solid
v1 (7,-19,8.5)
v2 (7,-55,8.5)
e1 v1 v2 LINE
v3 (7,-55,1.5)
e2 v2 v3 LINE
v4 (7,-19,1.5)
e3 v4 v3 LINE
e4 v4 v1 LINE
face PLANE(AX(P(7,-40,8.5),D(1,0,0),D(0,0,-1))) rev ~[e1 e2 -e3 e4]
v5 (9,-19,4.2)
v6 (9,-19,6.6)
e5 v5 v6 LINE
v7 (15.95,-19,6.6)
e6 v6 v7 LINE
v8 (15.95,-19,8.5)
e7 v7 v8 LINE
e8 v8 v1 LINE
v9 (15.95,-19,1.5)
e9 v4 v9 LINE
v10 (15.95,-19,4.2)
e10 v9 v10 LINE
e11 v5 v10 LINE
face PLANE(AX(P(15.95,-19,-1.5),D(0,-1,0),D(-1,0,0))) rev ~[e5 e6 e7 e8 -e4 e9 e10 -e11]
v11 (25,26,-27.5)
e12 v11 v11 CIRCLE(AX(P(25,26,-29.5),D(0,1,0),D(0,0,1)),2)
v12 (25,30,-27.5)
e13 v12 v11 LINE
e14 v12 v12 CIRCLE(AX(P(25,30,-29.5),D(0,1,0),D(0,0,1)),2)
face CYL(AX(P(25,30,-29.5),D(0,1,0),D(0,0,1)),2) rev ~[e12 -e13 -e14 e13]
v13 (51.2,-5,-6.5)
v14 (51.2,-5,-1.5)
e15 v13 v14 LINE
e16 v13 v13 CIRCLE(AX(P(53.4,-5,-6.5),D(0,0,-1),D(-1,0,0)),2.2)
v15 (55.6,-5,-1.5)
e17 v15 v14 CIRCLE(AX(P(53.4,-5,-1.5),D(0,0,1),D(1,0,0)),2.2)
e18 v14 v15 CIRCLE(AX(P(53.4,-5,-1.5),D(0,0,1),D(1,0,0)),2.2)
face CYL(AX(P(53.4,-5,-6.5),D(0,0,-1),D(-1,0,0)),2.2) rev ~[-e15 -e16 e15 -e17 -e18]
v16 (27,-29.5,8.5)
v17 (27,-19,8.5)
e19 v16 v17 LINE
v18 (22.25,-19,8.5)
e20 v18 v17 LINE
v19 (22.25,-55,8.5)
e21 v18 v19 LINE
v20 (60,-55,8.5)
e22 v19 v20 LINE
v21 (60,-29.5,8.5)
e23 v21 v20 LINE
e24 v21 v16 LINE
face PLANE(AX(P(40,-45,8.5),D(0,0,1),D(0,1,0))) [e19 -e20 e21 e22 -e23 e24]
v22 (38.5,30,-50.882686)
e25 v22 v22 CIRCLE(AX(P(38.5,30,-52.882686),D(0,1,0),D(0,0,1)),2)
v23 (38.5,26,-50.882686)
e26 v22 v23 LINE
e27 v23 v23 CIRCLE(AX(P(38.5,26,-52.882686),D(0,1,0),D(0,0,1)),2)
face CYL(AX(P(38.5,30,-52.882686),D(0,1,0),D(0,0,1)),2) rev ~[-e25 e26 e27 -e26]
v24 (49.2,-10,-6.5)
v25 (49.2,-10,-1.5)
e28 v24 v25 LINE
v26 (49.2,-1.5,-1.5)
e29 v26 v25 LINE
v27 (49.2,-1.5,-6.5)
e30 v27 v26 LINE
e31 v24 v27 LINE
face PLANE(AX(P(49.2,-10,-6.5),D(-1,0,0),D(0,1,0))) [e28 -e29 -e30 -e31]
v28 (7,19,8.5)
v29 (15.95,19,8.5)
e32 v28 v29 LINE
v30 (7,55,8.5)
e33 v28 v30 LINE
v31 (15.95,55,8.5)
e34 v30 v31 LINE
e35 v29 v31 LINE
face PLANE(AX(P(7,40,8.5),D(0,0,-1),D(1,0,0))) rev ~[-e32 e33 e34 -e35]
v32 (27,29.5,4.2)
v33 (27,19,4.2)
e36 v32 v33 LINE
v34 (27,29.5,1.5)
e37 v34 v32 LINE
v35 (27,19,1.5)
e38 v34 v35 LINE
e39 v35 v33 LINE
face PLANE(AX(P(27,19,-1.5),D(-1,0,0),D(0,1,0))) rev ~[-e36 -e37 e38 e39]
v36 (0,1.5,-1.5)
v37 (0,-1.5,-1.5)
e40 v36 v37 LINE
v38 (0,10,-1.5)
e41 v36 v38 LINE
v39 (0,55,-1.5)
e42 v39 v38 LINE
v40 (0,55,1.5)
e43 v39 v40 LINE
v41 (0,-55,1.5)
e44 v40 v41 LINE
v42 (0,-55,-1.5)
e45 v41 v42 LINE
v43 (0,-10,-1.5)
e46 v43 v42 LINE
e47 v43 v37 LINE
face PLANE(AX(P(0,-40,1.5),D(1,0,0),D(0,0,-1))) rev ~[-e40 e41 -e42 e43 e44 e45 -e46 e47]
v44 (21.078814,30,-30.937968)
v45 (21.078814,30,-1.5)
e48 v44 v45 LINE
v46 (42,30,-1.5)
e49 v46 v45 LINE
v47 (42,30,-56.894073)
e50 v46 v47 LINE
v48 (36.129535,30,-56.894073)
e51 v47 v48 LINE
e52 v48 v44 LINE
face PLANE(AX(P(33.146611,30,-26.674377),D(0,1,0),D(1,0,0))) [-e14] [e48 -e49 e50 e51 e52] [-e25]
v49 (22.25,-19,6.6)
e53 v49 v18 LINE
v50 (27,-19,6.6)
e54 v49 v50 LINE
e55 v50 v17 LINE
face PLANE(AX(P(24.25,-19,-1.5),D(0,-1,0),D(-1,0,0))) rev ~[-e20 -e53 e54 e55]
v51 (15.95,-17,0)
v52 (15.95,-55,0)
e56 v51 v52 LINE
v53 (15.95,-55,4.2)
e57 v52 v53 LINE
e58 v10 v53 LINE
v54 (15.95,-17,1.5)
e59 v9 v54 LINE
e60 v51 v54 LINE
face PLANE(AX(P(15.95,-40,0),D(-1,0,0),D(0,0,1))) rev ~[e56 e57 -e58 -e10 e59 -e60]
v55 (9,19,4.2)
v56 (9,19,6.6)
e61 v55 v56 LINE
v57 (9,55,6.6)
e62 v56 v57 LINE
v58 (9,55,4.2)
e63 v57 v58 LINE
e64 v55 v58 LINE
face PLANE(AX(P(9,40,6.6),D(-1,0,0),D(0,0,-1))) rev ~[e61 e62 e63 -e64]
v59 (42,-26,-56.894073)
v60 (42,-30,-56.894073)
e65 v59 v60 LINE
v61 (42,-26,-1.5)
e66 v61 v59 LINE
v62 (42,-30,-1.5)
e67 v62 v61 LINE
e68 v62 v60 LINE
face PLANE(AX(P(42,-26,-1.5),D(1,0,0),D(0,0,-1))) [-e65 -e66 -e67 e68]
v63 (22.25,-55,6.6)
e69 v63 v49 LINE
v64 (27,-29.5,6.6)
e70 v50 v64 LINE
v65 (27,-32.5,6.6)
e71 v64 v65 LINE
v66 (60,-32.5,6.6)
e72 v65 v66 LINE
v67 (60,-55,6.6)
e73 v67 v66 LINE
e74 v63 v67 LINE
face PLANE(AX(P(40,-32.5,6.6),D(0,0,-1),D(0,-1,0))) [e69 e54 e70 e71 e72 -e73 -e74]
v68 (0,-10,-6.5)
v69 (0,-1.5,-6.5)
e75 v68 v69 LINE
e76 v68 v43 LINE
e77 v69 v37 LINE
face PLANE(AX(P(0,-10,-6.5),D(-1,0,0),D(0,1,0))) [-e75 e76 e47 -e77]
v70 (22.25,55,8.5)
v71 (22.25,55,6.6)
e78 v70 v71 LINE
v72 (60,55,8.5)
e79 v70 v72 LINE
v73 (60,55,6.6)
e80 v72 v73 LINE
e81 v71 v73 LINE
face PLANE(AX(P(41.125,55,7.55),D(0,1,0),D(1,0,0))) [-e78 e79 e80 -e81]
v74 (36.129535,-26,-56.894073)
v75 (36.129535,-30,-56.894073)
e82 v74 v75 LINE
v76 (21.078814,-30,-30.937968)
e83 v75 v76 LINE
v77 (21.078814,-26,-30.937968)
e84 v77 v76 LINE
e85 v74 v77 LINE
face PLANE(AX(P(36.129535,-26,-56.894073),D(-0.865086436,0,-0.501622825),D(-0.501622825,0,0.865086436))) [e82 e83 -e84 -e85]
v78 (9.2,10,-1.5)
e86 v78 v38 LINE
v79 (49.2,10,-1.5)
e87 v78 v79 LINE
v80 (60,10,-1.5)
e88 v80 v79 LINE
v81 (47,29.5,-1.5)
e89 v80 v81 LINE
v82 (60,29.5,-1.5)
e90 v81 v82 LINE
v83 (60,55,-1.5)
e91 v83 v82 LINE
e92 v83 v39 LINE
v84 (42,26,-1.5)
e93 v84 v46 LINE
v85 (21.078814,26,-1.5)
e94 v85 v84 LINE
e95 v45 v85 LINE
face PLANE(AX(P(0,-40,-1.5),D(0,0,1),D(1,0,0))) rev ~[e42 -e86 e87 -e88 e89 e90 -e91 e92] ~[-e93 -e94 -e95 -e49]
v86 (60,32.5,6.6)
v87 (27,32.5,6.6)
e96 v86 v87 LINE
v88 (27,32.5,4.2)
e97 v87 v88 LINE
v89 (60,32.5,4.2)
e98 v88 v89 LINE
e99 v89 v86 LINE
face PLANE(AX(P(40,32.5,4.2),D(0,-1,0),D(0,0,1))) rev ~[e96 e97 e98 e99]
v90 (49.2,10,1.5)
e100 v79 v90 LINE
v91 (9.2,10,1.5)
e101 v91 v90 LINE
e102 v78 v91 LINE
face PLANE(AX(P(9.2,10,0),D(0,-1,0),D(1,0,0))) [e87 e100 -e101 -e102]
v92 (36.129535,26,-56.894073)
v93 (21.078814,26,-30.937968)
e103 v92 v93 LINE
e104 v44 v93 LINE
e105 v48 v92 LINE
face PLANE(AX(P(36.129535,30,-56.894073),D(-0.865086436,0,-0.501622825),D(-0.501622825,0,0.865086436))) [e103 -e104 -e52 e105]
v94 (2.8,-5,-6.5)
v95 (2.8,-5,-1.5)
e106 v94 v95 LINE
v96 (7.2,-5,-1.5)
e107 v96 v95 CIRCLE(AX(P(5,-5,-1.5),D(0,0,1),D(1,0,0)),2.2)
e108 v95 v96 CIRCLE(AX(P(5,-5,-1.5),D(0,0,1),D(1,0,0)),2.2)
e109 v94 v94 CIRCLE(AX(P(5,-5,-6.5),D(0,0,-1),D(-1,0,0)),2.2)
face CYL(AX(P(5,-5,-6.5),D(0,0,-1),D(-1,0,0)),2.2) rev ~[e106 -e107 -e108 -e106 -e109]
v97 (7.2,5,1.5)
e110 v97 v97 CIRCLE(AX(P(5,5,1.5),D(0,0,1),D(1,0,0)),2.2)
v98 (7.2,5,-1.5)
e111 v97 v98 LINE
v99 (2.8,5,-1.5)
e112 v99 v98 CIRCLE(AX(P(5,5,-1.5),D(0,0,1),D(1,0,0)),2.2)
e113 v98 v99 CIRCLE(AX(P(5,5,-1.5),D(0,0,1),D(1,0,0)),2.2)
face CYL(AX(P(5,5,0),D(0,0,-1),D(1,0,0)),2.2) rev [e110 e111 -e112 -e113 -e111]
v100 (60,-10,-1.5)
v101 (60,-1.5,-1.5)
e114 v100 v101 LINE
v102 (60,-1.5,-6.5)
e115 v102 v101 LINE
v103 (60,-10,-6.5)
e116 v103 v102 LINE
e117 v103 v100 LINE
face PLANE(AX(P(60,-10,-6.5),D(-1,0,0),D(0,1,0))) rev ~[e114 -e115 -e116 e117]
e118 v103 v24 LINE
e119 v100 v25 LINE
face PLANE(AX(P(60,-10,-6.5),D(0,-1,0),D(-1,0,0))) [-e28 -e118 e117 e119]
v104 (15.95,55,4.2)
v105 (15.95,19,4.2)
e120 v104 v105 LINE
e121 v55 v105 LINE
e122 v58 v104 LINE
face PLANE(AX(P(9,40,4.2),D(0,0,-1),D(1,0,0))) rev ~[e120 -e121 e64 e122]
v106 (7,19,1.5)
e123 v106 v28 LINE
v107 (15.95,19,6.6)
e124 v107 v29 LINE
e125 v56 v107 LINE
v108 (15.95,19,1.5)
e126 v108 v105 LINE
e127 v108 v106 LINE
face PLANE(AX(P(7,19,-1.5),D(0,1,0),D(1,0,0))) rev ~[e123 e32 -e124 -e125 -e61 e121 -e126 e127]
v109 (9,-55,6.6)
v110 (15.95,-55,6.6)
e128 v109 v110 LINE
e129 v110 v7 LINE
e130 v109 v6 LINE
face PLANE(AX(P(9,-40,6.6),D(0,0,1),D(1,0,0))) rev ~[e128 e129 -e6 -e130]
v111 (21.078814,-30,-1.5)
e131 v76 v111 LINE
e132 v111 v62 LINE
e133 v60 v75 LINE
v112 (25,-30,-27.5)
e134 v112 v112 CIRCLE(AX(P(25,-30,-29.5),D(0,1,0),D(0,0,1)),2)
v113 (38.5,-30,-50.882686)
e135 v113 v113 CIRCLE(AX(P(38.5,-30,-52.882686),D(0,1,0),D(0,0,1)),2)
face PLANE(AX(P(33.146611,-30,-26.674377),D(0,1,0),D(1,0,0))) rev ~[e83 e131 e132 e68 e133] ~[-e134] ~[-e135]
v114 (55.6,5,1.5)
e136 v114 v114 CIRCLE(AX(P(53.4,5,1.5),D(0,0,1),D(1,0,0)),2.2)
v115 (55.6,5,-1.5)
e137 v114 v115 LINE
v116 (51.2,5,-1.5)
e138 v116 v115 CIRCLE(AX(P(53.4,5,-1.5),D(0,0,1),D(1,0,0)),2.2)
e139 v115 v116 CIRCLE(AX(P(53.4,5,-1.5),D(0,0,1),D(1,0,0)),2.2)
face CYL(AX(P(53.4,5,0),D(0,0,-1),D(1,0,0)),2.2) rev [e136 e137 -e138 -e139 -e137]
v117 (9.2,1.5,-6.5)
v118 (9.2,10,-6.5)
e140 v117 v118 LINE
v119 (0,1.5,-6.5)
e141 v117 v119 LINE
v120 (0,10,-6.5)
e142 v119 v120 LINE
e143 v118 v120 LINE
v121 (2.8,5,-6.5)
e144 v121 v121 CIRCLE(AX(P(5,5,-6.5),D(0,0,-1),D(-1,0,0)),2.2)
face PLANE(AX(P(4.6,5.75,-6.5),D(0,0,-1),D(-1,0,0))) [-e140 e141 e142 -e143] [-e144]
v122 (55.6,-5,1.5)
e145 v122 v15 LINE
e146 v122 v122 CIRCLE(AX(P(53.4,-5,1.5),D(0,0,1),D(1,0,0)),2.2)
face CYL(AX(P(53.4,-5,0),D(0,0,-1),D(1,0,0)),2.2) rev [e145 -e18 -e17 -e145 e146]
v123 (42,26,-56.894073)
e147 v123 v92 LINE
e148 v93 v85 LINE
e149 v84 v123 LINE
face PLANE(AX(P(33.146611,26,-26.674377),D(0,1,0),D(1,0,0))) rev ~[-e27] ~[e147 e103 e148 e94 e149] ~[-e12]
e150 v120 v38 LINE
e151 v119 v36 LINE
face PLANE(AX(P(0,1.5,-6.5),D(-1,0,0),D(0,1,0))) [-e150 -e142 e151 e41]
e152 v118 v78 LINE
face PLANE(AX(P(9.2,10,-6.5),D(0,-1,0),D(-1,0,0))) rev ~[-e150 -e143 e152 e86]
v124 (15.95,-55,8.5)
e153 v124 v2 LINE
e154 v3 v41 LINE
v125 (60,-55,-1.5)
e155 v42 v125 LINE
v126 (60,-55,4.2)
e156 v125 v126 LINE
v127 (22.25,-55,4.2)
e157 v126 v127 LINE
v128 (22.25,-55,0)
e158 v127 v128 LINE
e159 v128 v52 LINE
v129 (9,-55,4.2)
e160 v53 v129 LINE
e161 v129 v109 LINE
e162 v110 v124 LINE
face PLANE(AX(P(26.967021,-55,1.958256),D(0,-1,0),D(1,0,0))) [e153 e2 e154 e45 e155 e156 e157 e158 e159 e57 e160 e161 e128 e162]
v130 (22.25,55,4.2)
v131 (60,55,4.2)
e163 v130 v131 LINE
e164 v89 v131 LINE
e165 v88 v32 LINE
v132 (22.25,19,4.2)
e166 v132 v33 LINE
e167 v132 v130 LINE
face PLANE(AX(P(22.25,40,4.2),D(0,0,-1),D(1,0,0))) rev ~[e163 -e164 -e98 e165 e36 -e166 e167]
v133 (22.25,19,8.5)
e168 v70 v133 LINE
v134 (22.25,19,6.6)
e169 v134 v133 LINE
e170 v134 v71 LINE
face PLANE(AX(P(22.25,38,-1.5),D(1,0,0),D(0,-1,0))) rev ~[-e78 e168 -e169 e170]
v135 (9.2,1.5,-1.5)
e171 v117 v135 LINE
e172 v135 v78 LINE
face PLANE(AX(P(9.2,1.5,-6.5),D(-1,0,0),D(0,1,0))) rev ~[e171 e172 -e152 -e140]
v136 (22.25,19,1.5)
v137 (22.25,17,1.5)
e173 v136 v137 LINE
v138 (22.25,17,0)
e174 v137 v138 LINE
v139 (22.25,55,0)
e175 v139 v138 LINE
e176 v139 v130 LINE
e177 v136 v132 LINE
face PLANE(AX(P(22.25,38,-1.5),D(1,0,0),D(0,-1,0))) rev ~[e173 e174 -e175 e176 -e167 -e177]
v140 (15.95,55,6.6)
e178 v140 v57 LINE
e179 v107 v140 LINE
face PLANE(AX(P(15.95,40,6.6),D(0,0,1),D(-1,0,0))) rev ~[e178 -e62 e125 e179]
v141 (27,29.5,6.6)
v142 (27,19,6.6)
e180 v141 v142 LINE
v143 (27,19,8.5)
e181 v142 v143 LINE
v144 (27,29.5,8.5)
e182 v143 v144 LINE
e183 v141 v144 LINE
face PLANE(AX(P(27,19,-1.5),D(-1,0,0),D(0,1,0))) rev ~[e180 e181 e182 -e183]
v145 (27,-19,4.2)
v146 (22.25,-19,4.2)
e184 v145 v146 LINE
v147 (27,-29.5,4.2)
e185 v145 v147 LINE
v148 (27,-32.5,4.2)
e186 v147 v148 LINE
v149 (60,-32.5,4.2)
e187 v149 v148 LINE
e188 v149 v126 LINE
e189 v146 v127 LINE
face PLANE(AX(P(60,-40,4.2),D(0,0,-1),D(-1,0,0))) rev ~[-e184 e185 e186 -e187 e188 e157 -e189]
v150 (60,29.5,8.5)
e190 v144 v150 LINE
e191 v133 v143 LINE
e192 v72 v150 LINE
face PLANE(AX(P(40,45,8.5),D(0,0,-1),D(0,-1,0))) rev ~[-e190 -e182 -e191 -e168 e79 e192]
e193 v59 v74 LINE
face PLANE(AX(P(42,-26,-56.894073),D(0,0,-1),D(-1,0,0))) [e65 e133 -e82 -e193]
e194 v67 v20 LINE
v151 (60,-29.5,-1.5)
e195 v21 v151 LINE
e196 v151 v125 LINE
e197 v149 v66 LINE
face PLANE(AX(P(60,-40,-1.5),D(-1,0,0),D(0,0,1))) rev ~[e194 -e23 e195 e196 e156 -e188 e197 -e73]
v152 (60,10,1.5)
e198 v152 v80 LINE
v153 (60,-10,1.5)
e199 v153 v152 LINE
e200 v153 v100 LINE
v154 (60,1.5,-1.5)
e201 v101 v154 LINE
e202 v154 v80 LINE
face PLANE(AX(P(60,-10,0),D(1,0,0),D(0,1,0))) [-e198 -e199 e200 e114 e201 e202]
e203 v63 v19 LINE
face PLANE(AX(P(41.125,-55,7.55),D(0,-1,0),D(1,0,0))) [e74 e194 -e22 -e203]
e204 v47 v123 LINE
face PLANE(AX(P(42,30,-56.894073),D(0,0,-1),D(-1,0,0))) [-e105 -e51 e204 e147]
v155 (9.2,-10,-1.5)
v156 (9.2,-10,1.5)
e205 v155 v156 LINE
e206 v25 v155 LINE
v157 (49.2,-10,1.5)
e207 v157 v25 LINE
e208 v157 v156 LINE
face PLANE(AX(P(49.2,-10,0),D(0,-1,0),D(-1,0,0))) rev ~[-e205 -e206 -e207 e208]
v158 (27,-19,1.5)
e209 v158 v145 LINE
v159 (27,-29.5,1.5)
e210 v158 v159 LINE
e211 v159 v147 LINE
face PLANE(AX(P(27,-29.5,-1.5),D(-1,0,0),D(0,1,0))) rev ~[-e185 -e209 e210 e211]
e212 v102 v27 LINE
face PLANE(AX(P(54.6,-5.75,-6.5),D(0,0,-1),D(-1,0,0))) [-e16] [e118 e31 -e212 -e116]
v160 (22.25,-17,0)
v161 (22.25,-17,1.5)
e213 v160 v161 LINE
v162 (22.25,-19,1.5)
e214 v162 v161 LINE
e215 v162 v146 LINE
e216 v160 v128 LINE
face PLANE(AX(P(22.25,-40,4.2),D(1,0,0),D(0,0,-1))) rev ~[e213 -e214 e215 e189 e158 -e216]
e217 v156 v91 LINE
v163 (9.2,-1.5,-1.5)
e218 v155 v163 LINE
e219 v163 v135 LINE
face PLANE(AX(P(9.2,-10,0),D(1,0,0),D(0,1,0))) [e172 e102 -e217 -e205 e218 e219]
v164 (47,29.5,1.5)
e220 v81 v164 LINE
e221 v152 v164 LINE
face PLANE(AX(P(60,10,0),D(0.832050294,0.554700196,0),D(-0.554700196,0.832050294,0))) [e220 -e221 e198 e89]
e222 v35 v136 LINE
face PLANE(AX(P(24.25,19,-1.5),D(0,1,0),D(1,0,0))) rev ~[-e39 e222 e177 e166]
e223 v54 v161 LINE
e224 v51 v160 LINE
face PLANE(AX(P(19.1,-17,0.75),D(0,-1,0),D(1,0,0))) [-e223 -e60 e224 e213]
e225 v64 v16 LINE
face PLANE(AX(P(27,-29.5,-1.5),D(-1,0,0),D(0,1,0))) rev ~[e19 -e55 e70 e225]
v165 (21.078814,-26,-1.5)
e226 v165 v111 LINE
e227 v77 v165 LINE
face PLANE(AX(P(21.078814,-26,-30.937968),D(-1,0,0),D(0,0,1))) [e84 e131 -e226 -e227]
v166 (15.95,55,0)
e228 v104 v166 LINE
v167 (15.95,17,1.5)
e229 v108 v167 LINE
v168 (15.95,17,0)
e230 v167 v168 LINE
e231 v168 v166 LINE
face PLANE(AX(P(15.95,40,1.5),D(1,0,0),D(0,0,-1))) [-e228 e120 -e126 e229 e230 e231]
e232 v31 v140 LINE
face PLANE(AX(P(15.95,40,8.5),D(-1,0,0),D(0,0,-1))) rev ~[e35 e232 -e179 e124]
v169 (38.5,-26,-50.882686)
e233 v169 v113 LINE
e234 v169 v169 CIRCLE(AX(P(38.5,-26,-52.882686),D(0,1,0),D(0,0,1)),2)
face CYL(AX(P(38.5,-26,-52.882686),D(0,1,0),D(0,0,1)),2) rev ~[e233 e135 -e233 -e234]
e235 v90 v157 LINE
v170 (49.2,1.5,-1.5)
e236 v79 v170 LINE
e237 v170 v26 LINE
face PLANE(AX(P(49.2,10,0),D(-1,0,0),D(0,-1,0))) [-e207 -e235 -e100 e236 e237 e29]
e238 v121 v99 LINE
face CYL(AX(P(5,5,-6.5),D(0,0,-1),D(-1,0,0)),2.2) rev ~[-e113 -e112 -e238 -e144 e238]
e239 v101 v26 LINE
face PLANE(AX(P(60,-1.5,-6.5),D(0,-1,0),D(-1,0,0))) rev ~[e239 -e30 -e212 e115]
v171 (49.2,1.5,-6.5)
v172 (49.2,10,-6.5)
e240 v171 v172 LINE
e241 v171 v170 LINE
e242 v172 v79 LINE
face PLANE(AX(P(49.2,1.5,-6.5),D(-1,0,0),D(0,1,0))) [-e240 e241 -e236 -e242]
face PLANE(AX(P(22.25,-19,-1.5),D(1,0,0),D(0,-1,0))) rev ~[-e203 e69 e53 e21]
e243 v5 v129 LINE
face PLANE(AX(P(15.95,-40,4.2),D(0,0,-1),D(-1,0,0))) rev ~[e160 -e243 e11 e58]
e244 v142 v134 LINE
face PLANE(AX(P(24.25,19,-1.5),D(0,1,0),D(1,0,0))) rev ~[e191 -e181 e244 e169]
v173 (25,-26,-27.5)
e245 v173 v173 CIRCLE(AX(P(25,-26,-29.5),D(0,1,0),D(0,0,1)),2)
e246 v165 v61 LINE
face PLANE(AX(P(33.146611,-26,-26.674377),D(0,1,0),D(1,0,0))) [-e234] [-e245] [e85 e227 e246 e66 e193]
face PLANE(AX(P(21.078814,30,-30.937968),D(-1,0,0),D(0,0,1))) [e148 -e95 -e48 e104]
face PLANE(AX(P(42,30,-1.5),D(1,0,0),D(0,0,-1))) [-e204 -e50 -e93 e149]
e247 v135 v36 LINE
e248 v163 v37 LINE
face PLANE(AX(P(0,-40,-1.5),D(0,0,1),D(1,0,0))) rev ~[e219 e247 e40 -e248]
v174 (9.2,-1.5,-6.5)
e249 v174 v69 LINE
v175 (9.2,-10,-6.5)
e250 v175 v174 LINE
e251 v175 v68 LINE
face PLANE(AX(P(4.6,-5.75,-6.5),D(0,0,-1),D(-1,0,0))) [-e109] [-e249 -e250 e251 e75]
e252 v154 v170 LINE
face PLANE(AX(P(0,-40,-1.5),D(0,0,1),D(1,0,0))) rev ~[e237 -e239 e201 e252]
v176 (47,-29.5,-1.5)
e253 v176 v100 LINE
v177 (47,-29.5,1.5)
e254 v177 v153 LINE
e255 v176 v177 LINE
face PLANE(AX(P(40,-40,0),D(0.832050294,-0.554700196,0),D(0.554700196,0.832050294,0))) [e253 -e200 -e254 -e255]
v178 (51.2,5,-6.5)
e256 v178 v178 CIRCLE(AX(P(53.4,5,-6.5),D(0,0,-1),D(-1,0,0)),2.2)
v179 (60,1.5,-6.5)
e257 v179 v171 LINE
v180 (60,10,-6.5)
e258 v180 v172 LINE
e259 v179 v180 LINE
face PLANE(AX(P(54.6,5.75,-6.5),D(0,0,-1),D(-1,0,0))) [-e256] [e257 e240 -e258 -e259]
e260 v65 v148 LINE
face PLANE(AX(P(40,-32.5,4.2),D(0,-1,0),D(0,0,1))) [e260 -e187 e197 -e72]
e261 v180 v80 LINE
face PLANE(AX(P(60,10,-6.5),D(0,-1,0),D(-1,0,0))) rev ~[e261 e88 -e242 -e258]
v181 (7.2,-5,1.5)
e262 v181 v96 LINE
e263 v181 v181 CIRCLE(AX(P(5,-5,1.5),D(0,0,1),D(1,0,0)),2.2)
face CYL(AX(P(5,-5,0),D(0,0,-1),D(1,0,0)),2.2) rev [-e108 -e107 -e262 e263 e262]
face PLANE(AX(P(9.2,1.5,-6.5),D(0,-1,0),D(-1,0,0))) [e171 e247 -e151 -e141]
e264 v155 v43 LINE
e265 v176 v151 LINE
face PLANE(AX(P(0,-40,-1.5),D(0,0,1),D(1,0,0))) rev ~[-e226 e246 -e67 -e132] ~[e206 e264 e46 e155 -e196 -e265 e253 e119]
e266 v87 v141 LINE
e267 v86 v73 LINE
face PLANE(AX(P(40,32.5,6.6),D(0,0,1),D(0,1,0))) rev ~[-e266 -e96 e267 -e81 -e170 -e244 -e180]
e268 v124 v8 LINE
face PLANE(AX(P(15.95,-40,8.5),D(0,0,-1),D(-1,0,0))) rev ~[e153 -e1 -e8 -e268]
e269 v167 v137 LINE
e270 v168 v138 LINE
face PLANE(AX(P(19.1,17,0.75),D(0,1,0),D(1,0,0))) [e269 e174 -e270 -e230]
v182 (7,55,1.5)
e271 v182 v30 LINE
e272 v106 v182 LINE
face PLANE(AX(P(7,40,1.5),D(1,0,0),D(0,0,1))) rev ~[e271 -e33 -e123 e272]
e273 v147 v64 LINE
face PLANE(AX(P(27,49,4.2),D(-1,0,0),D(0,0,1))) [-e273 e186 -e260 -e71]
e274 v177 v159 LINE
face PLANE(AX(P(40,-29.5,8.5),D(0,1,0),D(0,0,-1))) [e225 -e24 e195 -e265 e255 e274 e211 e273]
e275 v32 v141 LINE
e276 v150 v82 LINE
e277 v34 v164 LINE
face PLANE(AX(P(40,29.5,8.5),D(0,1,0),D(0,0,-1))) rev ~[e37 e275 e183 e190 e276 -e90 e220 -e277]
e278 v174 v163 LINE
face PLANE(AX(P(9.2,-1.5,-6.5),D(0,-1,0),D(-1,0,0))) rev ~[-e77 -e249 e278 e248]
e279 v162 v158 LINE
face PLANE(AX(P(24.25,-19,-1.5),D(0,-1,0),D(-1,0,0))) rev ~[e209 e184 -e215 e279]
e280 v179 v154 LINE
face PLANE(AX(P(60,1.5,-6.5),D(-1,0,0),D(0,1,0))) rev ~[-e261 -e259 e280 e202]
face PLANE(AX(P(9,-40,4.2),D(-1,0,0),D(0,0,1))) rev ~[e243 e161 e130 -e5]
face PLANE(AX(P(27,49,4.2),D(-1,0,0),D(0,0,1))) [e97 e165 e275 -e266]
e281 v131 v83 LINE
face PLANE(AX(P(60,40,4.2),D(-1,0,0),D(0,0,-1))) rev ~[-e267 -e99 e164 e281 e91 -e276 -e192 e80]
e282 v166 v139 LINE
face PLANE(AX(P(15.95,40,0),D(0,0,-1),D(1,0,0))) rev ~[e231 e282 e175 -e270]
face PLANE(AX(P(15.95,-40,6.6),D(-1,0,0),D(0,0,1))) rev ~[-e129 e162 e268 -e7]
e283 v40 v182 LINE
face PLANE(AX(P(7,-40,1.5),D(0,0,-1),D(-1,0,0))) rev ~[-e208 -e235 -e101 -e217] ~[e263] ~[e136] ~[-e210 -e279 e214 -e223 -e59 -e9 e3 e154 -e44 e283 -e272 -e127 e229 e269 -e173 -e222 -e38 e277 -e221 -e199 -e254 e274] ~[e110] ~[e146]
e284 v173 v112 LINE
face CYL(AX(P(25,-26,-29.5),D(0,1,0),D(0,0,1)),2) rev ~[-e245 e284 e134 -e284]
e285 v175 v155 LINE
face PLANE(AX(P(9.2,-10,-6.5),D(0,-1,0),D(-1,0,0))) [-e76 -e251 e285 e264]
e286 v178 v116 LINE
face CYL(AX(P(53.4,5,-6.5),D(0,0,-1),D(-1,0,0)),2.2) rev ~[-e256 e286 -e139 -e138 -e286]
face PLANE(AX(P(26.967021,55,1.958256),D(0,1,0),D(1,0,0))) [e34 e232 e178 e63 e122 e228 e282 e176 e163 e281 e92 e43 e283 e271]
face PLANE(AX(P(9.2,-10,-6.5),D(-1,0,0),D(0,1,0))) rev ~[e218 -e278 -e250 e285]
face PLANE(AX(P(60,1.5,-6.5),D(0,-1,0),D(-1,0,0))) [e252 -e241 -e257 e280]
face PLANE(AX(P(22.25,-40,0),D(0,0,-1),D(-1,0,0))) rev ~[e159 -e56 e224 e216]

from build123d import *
from build123d.topology import SkipClean

# Parameters (mm, degrees)
SKETCH_1_R               = 2.2
EXTRUDE_1_DEPTH          = 1.5
EXTRUDE_START            = -1.5
EXTRUDE_2_DEPTH          = 10
SKETCH_2_W               = 6.3
SKETCH_2_H               = 7
CUT_EXTRUDE_1_DEPTH      = 80
CUT_EXTRUDE_START        = -2
SKETCH_3_W               = 2.4
SKETCH_3_H               = 19
CUT_EXTRUDE_2_DEPTH      = 80
EXTRUDE_3_DEPTH          = 10
SKETCH_4_W               = 17.75
SKETCH_4_H               = 2.4
CUT_EXTRUDE_3_DEPTH      = 12.5
CUT_EXTRUDE_START_2      = -90
SKETCH_4_2_W             = 17.75
SKETCH_4_2_H             = 2.4
CUT_EXTRUDE_4_DEPTH      = 12.5
EXTRUDE_START_2          = -15
SKETCH_6_R               = 2
EXTRUDE_4_DEPTH          = 4
EXTRUDE_START_3          = -71
SKETCH_6_2_R             = 2
EXTRUDE_5_DEPTH          = 4
CUT_EXTRUDE_START_3      = 60
SKETCH_7_W               = 6.95
SKETCH_7_H               = 2.4
CUT_EXTRUDE_5_DEPTH      = 90
SKETCH_9_W               = 6.3
SKETCH_9_H               = 1.5
CUT_EXTRUDE_7_DEPTH      = 23
SKETCH_10_W              = 6.3
SKETCH_10_H              = 1.5
CUT_EXTRUDE_8_DEPTH      = 23
CUT_EXTRUDE_9_DEPTH      = 70
CUT_EXTRUDE_9_DEPTH_BACK = 30
SKETCH_11_W              = 2.75
SKETCH_11_H              = 2.4
EXTRUDE_6_DEPTH          = 20
EXTRUDE_7_DEPTH          = 20
SKETCH_15_W              = 37.75
SKETCH_15_H              = 1.9
EXTRUDE_8_DEPTH          = 15
SKETCH_16_W              = 37.75
SKETCH_16_H              = 1.9
EXTRUDE_9_DEPTH          = 15
EXTRUDE_START_4          = 5
SKETCH_17_W              = 10.8
SKETCH_17_H              = 8.5
SKETCH_17_R              = 2.2
SKETCH_17_W_2            = 9.2
EXTRUDE_10_DEPTH         = 5


with BuildPart() as part:
    # 草图1 → 凸台-拉伸1 (new, symmetric)
    with BuildSketch(Plane.XY):
        Polygon((15.95, 38), (15.95, 19), (7, 19), (7, 40), (0, 40), (0, -40), (7, -40), (7, -19), (15.95, -19), (15.95, -38), (22.25, -38), (22.25, -19), (24.25, -19), (27, -19), (27, -29.5), (40, -29.5), (40, -40), (60, -10), (60, 10), (40, 40), (40, 29.5), (27, 29.5), (27, 19), (24.25, 19), (22.25, 19), (22.25, 38), align=None)
        with Locations((5, -5)):
            Circle(SKETCH_1_R, mode=Mode.SUBTRACT)
        with Locations((53.4, -5)):
            Circle(SKETCH_1_R, mode=Mode.SUBTRACT)
        with Locations((5, 5)):
            Circle(SKETCH_1_R, mode=Mode.SUBTRACT)
        Polygon((16, 10), (23, 10), (49.2, 10), (49.2, -10), (23, -10), (16, -10), (9.2, -10), (9.2, 10), align=None, mode=Mode.SUBTRACT)
        with Locations((53.4, 5)):
            Circle(SKETCH_1_R, mode=Mode.SUBTRACT)
    extrude(amount=EXTRUDE_1_DEPTH, both=True)

    # 草图1<3> → 凸台-拉伸2 (add)
    with BuildSketch(Plane.XY.offset(EXTRUDE_START)):
        Polygon((7, 19), (15.95, 19), (15.95, 38), (22.25, 38), (22.25, 19), (24.25, 19), (24.25, 40), (22.25, 40), (16.15, 40), (7, 40), align=None)
        Polygon((7, -19), (7, -40), (16.15, -40), (22.25, -40), (24.25, -40), (24.25, -19), (22.25, -19), (22.25, -38), (15.95, -38), (15.95, -19), align=None)
    extrude(amount=EXTRUDE_2_DEPTH)

    # 草图2 → 切除-拉伸1 (cut)
    with BuildSketch(Plane.XZ.offset(40)):
        with Locations((19.1, 5)):
            Rectangle(SKETCH_2_W, SKETCH_2_H)
    extrude(amount=-CUT_EXTRUDE_1_DEPTH, mode=Mode.SUBTRACT)

    # 草图3 → 切除-拉伸2 (cut)
    with BuildSketch(Plane.ZY.offset(-7).offset(CUT_EXTRUDE_START)):
        with Locations((5.4, -28.5)):
            Rectangle(SKETCH_3_W, SKETCH_3_H)
        with Locations((5.4, 28.5)):
            Rectangle(SKETCH_3_W, SKETCH_3_H)
    extrude(amount=-CUT_EXTRUDE_2_DEPTH, mode=Mode.SUBTRACT)

    # 草图1<4> → 凸台-拉伸3 (add)
    with BuildSketch(Plane.XY.offset(EXTRUDE_START)):
        Polygon((24.25, 45), (24.25, 19), (27, 19), (27, 29.5), (40, 29.5), (40, 45), align=None)
        Polygon((24.25, -19), (24.25, -45), (40, -45), (40, -29.5), (27, -29.5), (27, -19), align=None)
    extrude(amount=EXTRUDE_3_DEPTH)

    # 草图4 → 切除-拉伸3 (cut)
    with BuildSketch(Plane.XZ.offset(45)):
        with Locations((31.125, 5.4)):
            Rectangle(SKETCH_4_W, SKETCH_4_H)
    extrude(amount=-CUT_EXTRUDE_3_DEPTH, mode=Mode.SUBTRACT)

    # 草图4<2> → 切除-拉伸4 (cut)
    with BuildSketch(Plane.XZ.offset(45).offset(CUT_EXTRUDE_START_2)):
        with Locations((31.125, 5.4)):
            Rectangle(SKETCH_4_2_W, SKETCH_4_2_H)
    extrude(amount=CUT_EXTRUDE_4_DEPTH, mode=Mode.SUBTRACT)

    # 草图6 → 凸台-拉伸4 (add)
    with BuildSketch(Plane(origin=(0, 45, 0), x_dir=(1, 0, 0), z_dir=(0, 1, 0)).offset(EXTRUDE_START_2)):
        Polygon((21.0788144, 1.5), (42, 1.5), (42, 7.5), (42, 56.89407293), (36.129535456, 56.89407293), (21.0788144, 30.93796809), align=None)
        with Locations(Location((25, 29.5, 0), (0, 0, 270))):
            Circle(SKETCH_6_R, mode=Mode.SUBTRACT)
        with Locations(Location((38.5, 52.8826859, 0), (0, 0, 270))):
            Circle(SKETCH_6_R, mode=Mode.SUBTRACT)
    extrude(amount=-EXTRUDE_4_DEPTH)

    # 草图6<2> → 凸台-拉伸5 (add)
    with BuildSketch(Plane(origin=(0, 45, 0), x_dir=(1, 0, 0), z_dir=(0, 1, 0)).offset(EXTRUDE_START_3)):
        Polygon((21.0788144, 1.5), (42, 1.5), (42, 7.5), (42, 56.89407293), (36.129535456, 56.89407293), (21.0788144, 30.93796809), align=None)
        with Locations(Location((25, 29.5, 0), (0, 0, 270))):
            Circle(SKETCH_6_2_R, mode=Mode.SUBTRACT)
        with Locations(Location((38.5, 52.8826859, 0), (0, 0, 270))):
            Circle(SKETCH_6_2_R, mode=Mode.SUBTRACT)
    extrude(amount=-EXTRUDE_5_DEPTH)

    # 草图7 → 切除-拉伸5 (cut)
    with BuildSketch(Plane.XZ.offset(-19).offset(CUT_EXTRUDE_START_3)):
        with Locations((12.475, 5.4)):
            Rectangle(SKETCH_7_W, SKETCH_7_H)
    extrude(amount=-CUT_EXTRUDE_5_DEPTH, mode=Mode.SUBTRACT)

    # 草图9 → 切除-拉伸7 (cut)
    with BuildSketch(Plane(origin=(0, 40, 0), x_dir=(1, 0, 0), z_dir=(0, 1, 0))):
        with Locations((19.1, -0.75)):
            Rectangle(SKETCH_9_W, SKETCH_9_H)
    extrude(amount=-CUT_EXTRUDE_7_DEPTH, mode=Mode.SUBTRACT)

    # 草图10 → 切除-拉伸8 (cut)
    with BuildSketch(Plane.XZ.offset(40)):
        with Locations((19.1, 0.75)):
            Rectangle(SKETCH_10_W, SKETCH_10_H)
    extrude(amount=-CUT_EXTRUDE_8_DEPTH, mode=Mode.SUBTRACT)

    # 草图11 → 切除-拉伸9 (cut, two sides: drawn at the far end of the back side and taken through both)
    with BuildSketch(Plane.XZ.offset(-19).offset(-CUT_EXTRUDE_9_DEPTH_BACK)):
        with Locations((25.625, 5.4)):
            Rectangle(SKETCH_11_W, SKETCH_11_H)
    extrude(amount=CUT_EXTRUDE_9_DEPTH + CUT_EXTRUDE_9_DEPTH_BACK, mode=Mode.SUBTRACT)

    # 草图12 → 凸台-拉伸6 (add)
    with BuildSketch(Plane(origin=(40, 0, 0), x_dir=(0, 0, -1), z_dir=(1, 0, 0))):
        Polygon((-8.5, -45), (-8.5, -29.5), (1.5, -29.5), (1.5, -45), (-4.2, -45), (-4.2, -32.5), (-6.6, -32.5), (-6.6, -45), align=None)
    extrude(amount=EXTRUDE_6_DEPTH)

    # 草图13 → 凸台-拉伸7 (add)
    with BuildSketch(Plane(origin=(40, 0, 0), x_dir=(0, 0, -1), z_dir=(1, 0, 0))):
        Polygon((-8.5, 45), (-8.5, 29.5), (1.5, 29.5), (1.5, 45), (-4.2, 45), (-4.2, 32.5), (-6.6, 32.5), (-6.6, 45), align=None)
    extrude(amount=EXTRUDE_7_DEPTH)

    # 草图15 → 凸台-拉伸8 (add)
    with BuildSketch(Plane(origin=(0, 40, 0), x_dir=(1, 0, 0), z_dir=(0, 1, 0))):
        Polygon((0, -1.5), (7, -1.5), (7, -8.5), (15.95, -8.5), (15.95, -6.6), (9, -6.6), (9, -4.2), (15.95, -4.2), (15.95, 0), (22.25, 0), (22.25, -4.2), (60, -4.2), (60, 1.5), (0, 1.5), align=None)
        with Locations((41.125, -7.55)):
            Rectangle(SKETCH_15_W, SKETCH_15_H)
    extrude(amount=EXTRUDE_8_DEPTH)

    # 草图16 → 凸台-拉伸9 (add)
    with BuildSketch(Plane.XZ.offset(40)):
        Polygon((15.95, 8.5), (7, 8.5), (7, 1.5), (0, 1.5), (0, -1.5), (60, -1.5), (60, 4.2), (22.25, 4.2), (22.25, 0), (15.95, 0), (15.95, 4.2), (9, 4.2), (9, 6.6), (15.95, 6.6), align=None)
        with Locations((41.125, 7.55)):
            Rectangle(SKETCH_16_W, SKETCH_16_H)
    extrude(amount=EXTRUDE_9_DEPTH)

    # 草图17 → 凸台-拉伸10 (add)
    # profile 1 of 4: a face of its own
    with SkipClean():  # the faces are left unmerged after this step: merging them gives an invalid solid
        with BuildSketch(Plane(origin=(0, 0, -1.5), x_dir=(-1, 0, 0), z_dir=(0, 0, -1)).offset(EXTRUDE_START_4)):
            with Locations((-54.6, -5.75)):
                Rectangle(SKETCH_17_W, SKETCH_17_H)
            with Locations((-53.4, -5)):
                Circle(SKETCH_17_R, mode=Mode.SUBTRACT)
        # profile 2 of 4: a face of its own
        with BuildSketch(Plane(origin=(0, 0, -1.5), x_dir=(-1, 0, 0), z_dir=(0, 0, -1)).offset(EXTRUDE_START_4)):
            with Locations((-54.6, 5.75)):
                Rectangle(SKETCH_17_W, SKETCH_17_H)
            with Locations((-53.4, 5)):
                Circle(SKETCH_17_R, mode=Mode.SUBTRACT)
        # profile 3 of 4: a face of its own
        with BuildSketch(Plane(origin=(0, 0, -1.5), x_dir=(-1, 0, 0), z_dir=(0, 0, -1)).offset(EXTRUDE_START_4)):
            with Locations((-4.6, -5.75)):
                Rectangle(SKETCH_17_W_2, SKETCH_17_H)
            with Locations((-5, -5)):
                Circle(SKETCH_17_R, mode=Mode.SUBTRACT)
        # profile 4 of 4: a face of its own
        with BuildSketch(Plane(origin=(0, 0, -1.5), x_dir=(-1, 0, 0), z_dir=(0, 0, -1)).offset(EXTRUDE_START_4)):
            with Locations((-4.6, 5.75)):
                Rectangle(SKETCH_17_W_2, SKETCH_17_H)
            with Locations((-5, 5)):
                Circle(SKETCH_17_R, mode=Mode.SUBTRACT)
        extrude(amount=-EXTRUDE_10_DEPTH)


solid = part.part
